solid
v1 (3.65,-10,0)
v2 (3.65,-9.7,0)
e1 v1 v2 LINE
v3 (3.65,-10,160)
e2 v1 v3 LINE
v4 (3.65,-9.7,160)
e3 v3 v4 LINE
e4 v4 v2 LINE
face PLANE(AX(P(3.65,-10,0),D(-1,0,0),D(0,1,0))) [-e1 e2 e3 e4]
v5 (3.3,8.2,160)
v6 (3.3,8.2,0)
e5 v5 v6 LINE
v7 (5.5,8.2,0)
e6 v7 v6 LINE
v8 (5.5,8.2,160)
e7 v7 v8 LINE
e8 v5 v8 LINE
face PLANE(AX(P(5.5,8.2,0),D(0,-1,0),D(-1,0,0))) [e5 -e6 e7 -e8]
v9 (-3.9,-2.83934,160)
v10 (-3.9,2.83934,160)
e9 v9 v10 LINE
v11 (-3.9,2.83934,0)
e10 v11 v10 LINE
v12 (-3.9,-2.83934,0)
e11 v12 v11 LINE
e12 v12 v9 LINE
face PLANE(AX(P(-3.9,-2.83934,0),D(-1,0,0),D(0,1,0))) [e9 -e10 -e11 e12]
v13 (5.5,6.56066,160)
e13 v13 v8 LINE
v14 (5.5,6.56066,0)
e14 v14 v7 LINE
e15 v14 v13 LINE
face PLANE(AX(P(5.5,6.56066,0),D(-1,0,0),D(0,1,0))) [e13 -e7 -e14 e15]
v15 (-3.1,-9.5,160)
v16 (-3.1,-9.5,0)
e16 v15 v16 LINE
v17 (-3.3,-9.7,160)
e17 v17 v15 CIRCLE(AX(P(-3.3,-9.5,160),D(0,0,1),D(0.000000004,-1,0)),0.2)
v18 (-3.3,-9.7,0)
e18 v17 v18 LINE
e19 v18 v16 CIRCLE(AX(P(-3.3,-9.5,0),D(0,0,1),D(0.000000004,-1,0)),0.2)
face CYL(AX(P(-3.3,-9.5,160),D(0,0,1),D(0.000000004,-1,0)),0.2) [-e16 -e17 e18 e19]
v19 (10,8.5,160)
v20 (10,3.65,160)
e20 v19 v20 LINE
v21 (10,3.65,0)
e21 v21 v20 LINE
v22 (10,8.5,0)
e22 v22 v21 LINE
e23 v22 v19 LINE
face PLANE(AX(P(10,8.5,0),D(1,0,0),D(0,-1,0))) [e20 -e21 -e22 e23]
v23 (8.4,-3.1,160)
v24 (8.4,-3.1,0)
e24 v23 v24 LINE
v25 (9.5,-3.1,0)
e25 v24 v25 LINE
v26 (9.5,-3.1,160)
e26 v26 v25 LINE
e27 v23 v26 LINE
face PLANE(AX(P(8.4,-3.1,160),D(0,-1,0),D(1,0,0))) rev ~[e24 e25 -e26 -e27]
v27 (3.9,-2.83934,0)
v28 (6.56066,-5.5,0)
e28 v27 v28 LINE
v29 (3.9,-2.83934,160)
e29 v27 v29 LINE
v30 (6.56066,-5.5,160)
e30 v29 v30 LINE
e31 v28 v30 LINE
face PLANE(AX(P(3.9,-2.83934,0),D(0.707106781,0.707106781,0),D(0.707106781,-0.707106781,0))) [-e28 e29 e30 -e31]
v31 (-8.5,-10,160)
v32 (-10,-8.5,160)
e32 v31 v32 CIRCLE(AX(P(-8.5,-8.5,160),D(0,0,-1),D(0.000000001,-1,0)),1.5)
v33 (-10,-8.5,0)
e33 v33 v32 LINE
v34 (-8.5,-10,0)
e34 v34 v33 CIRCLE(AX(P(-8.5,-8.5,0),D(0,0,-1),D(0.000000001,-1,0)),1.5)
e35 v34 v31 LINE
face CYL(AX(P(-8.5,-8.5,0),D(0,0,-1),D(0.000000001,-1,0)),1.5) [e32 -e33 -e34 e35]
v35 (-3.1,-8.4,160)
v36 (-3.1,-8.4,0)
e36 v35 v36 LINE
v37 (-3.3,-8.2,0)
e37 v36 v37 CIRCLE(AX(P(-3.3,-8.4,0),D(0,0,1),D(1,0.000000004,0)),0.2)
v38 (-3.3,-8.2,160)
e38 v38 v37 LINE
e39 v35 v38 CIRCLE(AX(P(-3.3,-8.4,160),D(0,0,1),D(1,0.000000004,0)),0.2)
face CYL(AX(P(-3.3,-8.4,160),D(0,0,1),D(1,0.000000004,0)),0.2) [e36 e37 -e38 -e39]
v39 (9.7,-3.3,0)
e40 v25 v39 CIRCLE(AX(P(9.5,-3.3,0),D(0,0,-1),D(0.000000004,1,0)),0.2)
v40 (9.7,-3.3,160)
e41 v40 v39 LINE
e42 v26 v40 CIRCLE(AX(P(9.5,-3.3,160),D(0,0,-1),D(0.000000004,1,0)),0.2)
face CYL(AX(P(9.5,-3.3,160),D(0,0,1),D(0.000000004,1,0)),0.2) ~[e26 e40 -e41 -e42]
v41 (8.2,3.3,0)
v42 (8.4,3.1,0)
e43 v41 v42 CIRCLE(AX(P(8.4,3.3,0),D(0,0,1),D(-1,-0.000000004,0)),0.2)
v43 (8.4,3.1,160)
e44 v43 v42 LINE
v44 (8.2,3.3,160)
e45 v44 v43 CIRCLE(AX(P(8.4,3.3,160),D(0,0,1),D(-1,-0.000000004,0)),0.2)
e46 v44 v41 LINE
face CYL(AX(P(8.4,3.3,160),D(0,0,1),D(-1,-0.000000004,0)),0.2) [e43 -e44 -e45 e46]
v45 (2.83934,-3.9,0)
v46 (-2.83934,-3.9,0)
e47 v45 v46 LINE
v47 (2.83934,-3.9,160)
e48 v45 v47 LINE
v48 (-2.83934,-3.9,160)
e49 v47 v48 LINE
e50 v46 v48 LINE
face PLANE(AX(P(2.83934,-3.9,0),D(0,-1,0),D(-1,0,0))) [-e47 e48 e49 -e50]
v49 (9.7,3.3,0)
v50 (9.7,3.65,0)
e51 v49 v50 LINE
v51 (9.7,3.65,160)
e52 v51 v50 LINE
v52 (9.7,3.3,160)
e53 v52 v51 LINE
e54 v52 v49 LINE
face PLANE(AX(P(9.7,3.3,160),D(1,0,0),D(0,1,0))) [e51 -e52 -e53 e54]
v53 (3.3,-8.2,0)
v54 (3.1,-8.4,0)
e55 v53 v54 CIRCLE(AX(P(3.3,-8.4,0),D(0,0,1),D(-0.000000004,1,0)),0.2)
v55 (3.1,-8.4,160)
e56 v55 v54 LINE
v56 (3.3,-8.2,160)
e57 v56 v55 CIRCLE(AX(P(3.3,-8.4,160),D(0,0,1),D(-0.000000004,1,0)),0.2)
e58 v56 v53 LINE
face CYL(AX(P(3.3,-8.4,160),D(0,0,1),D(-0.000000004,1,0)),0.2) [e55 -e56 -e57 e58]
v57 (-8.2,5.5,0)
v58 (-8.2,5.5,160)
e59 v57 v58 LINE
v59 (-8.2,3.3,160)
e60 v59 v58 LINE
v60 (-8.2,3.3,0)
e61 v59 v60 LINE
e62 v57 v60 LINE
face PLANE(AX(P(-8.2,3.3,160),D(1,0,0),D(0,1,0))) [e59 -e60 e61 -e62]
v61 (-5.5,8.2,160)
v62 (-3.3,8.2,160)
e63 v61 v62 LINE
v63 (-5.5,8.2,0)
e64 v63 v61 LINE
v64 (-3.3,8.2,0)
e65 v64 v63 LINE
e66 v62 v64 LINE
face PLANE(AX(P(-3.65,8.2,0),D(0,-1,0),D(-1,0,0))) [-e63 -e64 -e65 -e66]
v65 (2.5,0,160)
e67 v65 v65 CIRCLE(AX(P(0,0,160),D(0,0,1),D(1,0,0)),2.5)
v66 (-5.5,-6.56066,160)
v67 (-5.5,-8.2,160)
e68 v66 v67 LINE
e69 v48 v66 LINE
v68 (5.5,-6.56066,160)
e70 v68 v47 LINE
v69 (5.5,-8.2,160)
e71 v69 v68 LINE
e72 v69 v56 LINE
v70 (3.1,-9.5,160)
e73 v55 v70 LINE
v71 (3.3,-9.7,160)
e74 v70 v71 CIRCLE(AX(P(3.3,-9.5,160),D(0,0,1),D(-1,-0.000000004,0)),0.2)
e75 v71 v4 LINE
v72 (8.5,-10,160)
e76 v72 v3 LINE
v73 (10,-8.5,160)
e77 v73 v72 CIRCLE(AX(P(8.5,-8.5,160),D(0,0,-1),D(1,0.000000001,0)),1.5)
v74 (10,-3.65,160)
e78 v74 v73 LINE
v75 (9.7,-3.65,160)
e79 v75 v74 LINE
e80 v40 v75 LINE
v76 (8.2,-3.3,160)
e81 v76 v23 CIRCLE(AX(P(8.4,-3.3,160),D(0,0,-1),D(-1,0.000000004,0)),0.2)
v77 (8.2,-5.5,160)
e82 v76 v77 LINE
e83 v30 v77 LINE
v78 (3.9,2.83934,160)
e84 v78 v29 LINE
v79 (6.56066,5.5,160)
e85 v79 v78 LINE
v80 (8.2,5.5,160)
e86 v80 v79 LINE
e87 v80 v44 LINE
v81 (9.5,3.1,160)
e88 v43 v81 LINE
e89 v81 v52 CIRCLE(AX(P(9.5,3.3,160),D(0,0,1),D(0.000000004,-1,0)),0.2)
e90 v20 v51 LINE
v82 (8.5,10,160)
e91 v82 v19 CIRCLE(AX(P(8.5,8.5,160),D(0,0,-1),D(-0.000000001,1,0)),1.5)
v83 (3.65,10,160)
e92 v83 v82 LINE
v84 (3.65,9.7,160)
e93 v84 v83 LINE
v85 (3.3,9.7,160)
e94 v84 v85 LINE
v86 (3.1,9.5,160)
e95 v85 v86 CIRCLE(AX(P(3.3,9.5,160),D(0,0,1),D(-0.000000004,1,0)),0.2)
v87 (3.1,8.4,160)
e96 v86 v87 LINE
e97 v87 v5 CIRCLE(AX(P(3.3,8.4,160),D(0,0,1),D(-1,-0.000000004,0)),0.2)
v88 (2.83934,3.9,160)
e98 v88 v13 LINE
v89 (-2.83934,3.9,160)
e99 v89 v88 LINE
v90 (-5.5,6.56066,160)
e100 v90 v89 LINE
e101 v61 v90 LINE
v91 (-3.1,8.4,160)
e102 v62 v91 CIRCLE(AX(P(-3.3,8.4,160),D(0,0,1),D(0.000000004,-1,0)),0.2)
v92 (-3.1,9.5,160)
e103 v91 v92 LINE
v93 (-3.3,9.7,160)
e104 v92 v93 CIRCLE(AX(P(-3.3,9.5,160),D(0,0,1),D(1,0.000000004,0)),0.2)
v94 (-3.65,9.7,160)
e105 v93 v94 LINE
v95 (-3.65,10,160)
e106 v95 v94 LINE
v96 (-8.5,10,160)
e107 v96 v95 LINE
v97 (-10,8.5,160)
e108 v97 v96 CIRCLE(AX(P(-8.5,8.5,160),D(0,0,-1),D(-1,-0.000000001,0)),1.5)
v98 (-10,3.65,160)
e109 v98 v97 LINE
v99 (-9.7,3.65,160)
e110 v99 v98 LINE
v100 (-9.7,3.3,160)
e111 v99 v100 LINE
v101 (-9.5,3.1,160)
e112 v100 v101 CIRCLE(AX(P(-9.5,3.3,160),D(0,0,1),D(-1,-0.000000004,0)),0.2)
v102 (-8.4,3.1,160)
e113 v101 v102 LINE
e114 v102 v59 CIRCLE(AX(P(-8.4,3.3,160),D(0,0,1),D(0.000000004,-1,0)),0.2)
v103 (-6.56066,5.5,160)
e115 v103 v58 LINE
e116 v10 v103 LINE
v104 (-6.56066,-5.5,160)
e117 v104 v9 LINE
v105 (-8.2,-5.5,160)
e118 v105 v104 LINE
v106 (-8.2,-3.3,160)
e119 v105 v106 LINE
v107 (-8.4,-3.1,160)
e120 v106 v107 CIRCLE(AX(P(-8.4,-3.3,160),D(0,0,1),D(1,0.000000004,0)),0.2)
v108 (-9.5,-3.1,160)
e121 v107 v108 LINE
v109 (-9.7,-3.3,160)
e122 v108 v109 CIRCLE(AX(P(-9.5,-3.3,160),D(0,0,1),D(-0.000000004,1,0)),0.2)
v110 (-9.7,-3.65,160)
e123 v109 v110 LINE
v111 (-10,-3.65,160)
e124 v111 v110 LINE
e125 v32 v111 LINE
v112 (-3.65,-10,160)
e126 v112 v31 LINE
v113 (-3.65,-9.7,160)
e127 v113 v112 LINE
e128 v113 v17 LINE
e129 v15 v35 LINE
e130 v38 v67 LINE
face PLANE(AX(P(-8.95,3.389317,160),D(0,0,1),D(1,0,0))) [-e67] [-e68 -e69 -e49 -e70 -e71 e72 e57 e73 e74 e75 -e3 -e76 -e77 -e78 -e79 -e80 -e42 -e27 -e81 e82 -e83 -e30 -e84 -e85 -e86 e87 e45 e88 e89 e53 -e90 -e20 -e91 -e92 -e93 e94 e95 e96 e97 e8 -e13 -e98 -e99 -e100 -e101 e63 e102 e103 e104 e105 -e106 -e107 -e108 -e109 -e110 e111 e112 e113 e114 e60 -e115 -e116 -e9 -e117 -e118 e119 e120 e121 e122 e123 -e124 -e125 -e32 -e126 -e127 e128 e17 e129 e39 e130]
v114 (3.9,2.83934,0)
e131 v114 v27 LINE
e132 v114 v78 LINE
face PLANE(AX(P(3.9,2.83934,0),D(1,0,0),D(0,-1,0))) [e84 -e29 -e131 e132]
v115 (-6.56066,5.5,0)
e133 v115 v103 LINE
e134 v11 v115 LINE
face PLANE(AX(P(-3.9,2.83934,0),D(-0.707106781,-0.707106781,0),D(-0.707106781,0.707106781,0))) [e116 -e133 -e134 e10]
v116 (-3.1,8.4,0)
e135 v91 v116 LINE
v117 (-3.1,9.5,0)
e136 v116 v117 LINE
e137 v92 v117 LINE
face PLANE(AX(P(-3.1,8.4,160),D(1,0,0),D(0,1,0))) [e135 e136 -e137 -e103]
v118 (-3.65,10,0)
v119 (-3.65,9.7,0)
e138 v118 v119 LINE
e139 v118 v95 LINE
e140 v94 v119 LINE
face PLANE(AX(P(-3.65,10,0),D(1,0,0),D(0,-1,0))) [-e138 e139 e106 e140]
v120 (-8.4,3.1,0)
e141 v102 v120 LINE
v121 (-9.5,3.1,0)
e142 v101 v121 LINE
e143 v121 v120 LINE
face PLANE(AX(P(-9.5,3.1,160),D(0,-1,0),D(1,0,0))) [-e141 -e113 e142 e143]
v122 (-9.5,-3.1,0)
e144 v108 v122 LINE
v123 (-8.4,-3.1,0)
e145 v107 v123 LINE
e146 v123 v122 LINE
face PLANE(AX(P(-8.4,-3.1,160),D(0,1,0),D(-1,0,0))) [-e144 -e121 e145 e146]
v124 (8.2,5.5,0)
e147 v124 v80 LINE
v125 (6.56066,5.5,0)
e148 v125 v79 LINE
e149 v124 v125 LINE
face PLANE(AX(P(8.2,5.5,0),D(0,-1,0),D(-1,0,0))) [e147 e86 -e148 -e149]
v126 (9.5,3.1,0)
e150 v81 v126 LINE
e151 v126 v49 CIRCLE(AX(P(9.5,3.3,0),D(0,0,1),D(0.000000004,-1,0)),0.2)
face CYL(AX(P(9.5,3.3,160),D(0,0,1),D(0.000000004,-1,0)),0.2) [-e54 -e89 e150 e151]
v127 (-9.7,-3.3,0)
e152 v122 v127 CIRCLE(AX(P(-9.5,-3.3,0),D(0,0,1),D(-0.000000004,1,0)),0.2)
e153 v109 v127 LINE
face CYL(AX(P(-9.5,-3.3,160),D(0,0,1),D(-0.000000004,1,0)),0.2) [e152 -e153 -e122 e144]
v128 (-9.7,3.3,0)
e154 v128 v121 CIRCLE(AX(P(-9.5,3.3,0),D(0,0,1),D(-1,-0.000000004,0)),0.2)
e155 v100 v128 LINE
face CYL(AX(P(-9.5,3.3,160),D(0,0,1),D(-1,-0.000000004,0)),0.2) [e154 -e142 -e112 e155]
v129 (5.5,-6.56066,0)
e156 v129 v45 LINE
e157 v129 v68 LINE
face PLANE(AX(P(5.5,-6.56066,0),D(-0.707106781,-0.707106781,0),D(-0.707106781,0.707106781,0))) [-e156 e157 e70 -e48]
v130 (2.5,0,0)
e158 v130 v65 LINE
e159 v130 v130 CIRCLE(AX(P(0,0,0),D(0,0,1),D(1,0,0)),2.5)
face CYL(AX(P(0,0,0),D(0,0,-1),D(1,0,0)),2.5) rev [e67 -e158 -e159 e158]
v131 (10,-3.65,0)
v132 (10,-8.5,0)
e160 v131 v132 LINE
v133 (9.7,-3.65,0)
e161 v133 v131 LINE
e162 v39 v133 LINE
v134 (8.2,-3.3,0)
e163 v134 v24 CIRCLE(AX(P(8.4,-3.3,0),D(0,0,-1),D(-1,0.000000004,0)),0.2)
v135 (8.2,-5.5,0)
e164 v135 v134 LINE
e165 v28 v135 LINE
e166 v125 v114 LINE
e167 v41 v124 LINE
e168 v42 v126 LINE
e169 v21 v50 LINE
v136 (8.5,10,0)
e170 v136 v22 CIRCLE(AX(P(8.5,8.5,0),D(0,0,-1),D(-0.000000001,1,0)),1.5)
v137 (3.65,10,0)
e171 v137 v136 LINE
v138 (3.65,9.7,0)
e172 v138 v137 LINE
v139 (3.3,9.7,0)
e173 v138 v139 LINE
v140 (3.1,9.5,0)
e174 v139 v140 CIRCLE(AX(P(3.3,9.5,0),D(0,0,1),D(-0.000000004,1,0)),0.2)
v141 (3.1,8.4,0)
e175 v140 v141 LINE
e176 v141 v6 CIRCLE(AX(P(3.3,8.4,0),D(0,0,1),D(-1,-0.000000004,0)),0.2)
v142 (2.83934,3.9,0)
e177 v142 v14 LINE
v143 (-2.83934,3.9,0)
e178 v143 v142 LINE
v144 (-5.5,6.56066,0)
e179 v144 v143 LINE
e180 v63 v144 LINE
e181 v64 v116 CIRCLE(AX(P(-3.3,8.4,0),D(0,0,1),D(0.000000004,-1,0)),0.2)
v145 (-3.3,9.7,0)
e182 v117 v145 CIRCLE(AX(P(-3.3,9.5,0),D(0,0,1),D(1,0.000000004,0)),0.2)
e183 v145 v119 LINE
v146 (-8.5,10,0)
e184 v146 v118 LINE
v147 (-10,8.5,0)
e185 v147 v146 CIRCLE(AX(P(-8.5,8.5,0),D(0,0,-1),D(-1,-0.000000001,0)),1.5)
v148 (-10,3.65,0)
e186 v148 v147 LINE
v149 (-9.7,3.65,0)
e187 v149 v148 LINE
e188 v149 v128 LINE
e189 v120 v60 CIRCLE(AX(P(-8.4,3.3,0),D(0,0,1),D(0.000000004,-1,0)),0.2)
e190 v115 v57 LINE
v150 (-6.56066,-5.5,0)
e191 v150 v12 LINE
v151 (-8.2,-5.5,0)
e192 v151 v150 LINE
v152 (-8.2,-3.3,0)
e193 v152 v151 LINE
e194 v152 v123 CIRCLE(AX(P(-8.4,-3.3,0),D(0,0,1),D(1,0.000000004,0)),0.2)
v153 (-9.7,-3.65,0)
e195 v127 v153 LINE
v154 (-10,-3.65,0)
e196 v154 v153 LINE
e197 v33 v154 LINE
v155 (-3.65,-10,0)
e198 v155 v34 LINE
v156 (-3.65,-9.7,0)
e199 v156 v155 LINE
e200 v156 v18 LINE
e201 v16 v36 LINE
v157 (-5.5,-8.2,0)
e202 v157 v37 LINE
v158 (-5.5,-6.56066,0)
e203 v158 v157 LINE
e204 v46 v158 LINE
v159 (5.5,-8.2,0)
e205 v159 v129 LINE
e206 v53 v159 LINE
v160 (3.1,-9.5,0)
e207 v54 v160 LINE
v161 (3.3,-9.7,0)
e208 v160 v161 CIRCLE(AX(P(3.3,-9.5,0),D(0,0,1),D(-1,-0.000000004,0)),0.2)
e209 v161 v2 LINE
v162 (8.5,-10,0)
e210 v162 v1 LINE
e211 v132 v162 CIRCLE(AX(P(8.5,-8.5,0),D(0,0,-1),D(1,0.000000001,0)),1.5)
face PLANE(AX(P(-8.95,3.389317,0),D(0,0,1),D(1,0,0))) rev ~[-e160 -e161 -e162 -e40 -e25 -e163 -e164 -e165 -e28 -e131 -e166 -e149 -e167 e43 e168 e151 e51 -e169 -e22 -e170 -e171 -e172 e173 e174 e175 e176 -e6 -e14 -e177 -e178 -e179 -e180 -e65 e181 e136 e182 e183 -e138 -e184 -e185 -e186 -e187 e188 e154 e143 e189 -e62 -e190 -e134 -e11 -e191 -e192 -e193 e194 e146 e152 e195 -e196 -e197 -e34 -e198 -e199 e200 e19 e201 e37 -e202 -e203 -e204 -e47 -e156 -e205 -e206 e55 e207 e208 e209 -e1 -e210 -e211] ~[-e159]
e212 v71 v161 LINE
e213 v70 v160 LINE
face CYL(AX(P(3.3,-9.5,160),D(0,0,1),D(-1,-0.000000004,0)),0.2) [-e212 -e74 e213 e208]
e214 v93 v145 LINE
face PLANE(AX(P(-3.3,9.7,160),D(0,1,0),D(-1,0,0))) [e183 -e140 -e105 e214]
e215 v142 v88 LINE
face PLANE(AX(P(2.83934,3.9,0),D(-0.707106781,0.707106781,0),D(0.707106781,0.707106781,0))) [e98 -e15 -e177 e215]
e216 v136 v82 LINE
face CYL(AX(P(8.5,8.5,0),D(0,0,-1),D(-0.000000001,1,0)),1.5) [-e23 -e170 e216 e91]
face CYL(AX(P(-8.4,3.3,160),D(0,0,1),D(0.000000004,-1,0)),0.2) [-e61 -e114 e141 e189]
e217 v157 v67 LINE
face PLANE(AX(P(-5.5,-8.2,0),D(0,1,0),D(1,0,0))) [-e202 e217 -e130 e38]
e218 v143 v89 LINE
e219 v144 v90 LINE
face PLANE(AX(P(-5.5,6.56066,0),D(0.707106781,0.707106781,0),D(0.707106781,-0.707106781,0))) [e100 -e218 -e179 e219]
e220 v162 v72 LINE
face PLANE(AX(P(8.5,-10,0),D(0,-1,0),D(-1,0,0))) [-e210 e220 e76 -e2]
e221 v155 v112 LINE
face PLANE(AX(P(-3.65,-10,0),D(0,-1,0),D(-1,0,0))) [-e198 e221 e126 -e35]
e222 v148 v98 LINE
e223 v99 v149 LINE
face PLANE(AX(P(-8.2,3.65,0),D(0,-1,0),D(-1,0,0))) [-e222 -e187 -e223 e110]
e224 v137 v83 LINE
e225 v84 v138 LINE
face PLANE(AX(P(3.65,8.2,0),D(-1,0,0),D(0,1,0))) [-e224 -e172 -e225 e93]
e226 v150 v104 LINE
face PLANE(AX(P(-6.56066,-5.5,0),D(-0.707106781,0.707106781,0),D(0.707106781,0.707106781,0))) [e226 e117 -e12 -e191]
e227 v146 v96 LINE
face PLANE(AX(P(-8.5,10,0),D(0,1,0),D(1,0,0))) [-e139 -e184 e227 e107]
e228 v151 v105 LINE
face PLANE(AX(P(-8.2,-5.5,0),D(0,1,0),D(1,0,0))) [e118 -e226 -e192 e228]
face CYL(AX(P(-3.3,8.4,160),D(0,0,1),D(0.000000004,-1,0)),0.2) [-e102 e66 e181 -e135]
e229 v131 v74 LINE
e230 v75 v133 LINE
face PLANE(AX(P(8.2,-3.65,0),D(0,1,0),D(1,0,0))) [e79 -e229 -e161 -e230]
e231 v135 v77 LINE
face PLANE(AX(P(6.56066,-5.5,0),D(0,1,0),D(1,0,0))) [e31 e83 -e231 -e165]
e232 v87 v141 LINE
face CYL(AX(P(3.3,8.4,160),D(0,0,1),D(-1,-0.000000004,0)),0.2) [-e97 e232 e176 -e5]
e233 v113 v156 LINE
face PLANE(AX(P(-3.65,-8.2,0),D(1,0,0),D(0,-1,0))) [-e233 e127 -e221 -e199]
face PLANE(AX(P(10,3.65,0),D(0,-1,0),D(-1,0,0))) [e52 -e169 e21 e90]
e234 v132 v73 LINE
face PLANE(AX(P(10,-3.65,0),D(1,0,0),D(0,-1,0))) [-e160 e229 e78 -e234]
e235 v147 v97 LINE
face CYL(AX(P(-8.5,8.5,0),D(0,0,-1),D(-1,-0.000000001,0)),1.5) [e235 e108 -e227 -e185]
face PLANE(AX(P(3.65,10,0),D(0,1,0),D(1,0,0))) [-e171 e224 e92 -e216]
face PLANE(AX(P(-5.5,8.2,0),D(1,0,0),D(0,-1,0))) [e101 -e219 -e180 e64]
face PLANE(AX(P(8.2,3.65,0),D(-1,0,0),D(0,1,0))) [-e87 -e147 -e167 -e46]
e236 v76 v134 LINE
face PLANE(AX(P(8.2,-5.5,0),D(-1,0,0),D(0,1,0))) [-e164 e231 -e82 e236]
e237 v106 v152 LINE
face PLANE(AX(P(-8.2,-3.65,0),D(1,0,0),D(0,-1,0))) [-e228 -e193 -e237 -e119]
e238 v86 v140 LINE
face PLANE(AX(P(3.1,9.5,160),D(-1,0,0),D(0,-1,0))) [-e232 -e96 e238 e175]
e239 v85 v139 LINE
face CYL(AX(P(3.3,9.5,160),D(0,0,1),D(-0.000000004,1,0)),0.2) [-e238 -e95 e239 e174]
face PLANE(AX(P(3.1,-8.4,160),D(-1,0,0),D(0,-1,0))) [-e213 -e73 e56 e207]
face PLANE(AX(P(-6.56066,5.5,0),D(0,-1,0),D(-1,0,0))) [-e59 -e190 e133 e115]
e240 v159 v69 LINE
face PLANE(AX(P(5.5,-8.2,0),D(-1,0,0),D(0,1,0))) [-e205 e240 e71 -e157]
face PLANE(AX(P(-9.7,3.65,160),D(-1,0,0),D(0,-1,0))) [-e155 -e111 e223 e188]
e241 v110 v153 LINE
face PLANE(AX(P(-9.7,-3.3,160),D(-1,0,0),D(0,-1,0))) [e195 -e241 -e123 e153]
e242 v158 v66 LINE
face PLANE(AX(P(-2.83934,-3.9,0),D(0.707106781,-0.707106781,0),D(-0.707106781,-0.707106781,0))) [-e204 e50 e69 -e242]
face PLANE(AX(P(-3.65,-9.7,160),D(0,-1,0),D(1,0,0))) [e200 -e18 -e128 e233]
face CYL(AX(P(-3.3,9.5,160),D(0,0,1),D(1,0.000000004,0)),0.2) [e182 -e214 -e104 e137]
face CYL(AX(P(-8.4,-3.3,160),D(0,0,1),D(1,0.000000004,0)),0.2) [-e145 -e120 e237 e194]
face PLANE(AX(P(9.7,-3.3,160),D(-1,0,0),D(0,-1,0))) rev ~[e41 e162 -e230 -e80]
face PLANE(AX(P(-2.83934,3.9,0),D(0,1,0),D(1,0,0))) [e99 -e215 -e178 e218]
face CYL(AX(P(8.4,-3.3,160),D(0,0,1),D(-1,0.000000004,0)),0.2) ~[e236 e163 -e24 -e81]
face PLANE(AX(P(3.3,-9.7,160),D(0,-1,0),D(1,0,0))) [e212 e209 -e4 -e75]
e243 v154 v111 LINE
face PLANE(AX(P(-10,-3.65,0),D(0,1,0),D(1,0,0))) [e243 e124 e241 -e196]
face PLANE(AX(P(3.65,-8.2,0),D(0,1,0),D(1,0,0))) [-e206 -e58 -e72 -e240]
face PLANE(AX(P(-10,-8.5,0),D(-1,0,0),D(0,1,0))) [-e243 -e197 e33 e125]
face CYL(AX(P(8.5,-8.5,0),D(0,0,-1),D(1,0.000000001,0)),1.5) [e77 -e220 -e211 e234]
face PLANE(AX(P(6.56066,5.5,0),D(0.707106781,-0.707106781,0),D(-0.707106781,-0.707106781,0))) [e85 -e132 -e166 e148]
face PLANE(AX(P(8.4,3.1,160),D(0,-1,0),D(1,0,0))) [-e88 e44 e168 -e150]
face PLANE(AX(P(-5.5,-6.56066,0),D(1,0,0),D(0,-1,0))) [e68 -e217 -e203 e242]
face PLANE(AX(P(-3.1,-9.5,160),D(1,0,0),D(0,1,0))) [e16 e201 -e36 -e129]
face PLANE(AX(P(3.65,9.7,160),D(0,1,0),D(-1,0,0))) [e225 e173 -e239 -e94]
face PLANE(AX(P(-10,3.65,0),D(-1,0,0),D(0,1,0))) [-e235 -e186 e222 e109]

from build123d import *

# Parameters (mm, degrees)
SKETCH_1_R      = 2.5
EXTRUDE_2_DEPTH = 160
EXTRUDE_3_DEPTH = 160


with BuildPart() as part:
    # 草图1 → 凸台-拉伸2 (new body)
    with BuildSketch(Plane.XY):
        with BuildLine():
            Line((3.65, 10), (8.5, 10))
            ThreePointArc((8.5, 10), (9.560660172, 9.560660172), (10, 8.5))
            Line((10, 8.5), (10, 3.65))
            Line((10, 3.65), (8.2, 3.65))
            Line((8.2, 3.65), (8.2, 5.5))
            Line((8.2, 5.5), (6.560660172, 5.5))
            Line((6.560660172, 5.5), (3.9, 2.839339828))
            Line((3.9, 2.839339828), (3.9, -2.839339828))
            Line((3.9, -2.839339828), (6.560660172, -5.5))
            Line((6.560660172, -5.5), (8.2, -5.5))
            Line((8.2, -5.5), (8.2, -3.65))
            Line((8.2, -3.65), (10, -3.65))
            Line((10, -3.65), (10, -8.5))
            ThreePointArc((10, -8.5), (9.560660172, -9.560660172), (8.5, -10))
            Line((8.5, -10), (3.65, -10))
            Line((3.65, -10), (3.65, -8.2))
            Line((3.65, -8.2), (5.5, -8.2))
            Line((5.5, -8.2), (5.5, -6.560660172))
            Line((5.5, -6.560660172), (2.839339828, -3.9))
            Line((2.839339828, -3.9), (-2.839339828, -3.9))
            Line((-2.839339828, -3.9), (-5.5, -6.560660172))
            Line((-5.5, -6.560660172), (-5.5, -8.2))
            Line((-5.5, -8.2), (-3.65, -8.2))
            Line((-3.65, -8.2), (-3.65, -10))
            Line((-3.65, -10), (-8.5, -10))
            ThreePointArc((-8.5, -10), (-9.560660172, -9.560660172), (-10, -8.5))
            Line((-10, -8.5), (-10, -3.65))
            Line((-10, -3.65), (-8.2, -3.65))
            Line((-8.2, -3.65), (-8.2, -5.5))
            Line((-8.2, -5.5), (-6.560660172, -5.5))
            Line((-6.560660172, -5.5), (-3.9, -2.839339828))
            Line((-3.9, -2.839339828), (-3.9, 2.839339828))
            Line((-3.9, 2.839339828), (-6.560660172, 5.5))
            Line((-6.560660172, 5.5), (-8.2, 5.5))
            Line((-8.2, 5.5), (-8.2, 3.65))
            Line((-8.2, 3.65), (-10, 3.65))
            Line((-10, 3.65), (-10, 8.5))
            ThreePointArc((-10, 8.5), (-9.560660172, 9.560660172), (-8.5, 10))
            Line((-8.5, 10), (-3.65, 10))
            Line((-3.65, 10), (-3.65, 8.2))
            Line((-3.65, 8.2), (-5.5, 8.2))
            Line((-5.5, 8.2), (-5.5, 6.560660172))
            Line((-5.5, 6.560660172), (-2.839339828, 3.9))
            Line((-2.839339828, 3.9), (2.839339828, 3.9))
            Line((2.839339828, 3.9), (5.5, 6.560660172))
            Line((5.5, 6.560660172), (5.5, 8.2))
            Line((5.5, 8.2), (3.65, 8.2))
            Line((3.65, 8.2), (3.65, 10))
        make_face()
        Circle(SKETCH_1_R, mode=Mode.SUBTRACT)
    extrude(amount=EXTRUDE_2_DEPTH)

    # 草图3 → 凸台-拉伸3 (add)
    with BuildSketch(Plane.XY.offset(160)):
        with BuildLine():
            Line((-8.2, 3.65), (-9.7, 3.65))
            Line((-9.7, 3.65), (-9.7, 3.3))
            ThreePointArc((-9.7, 3.3), (-9.641421356, 3.158578644), (-9.5, 3.1))
            Line((-9.5, 3.1), (-8.4, 3.1))
            ThreePointArc((-8.4, 3.1), (-8.258578644, 3.158578644), (-8.2, 3.3))
            Line((-8.2, 3.3), (-8.2, 3.65))
        make_face()
        with BuildLine():
            Line((-3.65, 9.7), (-3.65, 8.2))
            Line((-3.65, 8.2), (-3.3, 8.2))
            ThreePointArc((-3.3, 8.2), (-3.158578644, 8.258578644), (-3.1, 8.4))
            Line((-3.1, 8.4), (-3.1, 9.5))
            ThreePointArc((-3.1, 9.5), (-3.158578644, 9.641421356), (-3.3, 9.7))
            Line((-3.3, 9.7), (-3.65, 9.7))
        make_face()
        with BuildLine():
            Line((3.65, 8.2), (3.65, 9.7))
            Line((3.65, 9.7), (3.3, 9.7))
            ThreePointArc((3.3, 9.7), (3.158578644, 9.641421356), (3.1, 9.5))
            Line((3.1, 9.5), (3.1, 8.4))
            ThreePointArc((3.1, 8.4), (3.158578644, 8.258578644), (3.3, 8.2))
            Line((3.3, 8.2), (3.65, 8.2))
        make_face()
        with BuildLine():
            Line((9.7, 3.65), (8.2, 3.65))
            Line((8.2, 3.65), (8.2, 3.3))
            ThreePointArc((8.2, 3.3), (8.258578644, 3.158578644), (8.4, 3.1))
            Line((8.4, 3.1), (9.5, 3.1))
            ThreePointArc((9.5, 3.1), (9.641421356, 3.158578644), (9.7, 3.3))
            Line((9.7, 3.3), (9.7, 3.65))
        make_face()
        with BuildLine():
            Line((3.65, -9.7), (3.65, -8.2))
            Line((3.65, -8.2), (3.3, -8.2))
            ThreePointArc((3.3, -8.2), (3.158578644, -8.258578644), (3.1, -8.4))
            Line((3.1, -8.4), (3.1, -9.5))
            ThreePointArc((3.1, -9.5), (3.158578644, -9.641421356), (3.3, -9.7))
            Line((3.3, -9.7), (3.65, -9.7))
        make_face()
        with BuildLine():
            Line((-3.65, -8.2), (-3.65, -9.7))
            Line((-3.65, -9.7), (-3.3, -9.7))
            ThreePointArc((-3.3, -9.7), (-3.158578644, -9.641421356), (-3.1, -9.5))
            Line((-3.1, -9.5), (-3.1, -8.4))
            ThreePointArc((-3.1, -8.4), (-3.158578644, -8.258578644), (-3.3, -8.2))
            Line((-3.3, -8.2), (-3.65, -8.2))
        make_face()
        with BuildLine():
            Line((8.2, -3.65), (8.2, -3.3))
            ThreePointArc((8.2, -3.3), (8.258578644, -3.158578644), (8.4, -3.1))
            Line((8.4, -3.1), (9.5, -3.1))
            ThreePointArc((9.5, -3.1), (9.641421356, -3.158578644), (9.7, -3.3))
            Line((9.7, -3.3), (9.7, -3.65))
            Line((9.7, -3.65), (8.2, -3.65))
        make_face()
        with BuildLine():
            Line((-8.2, -3.65), (-8.2, -3.3))
            ThreePointArc((-8.2, -3.3), (-8.258578644, -3.158578644), (-8.4, -3.1))
            Line((-8.4, -3.1), (-9.5, -3.1))
            ThreePointArc((-9.5, -3.1), (-9.641421356, -3.158578644), (-9.7, -3.3))
            Line((-9.7, -3.3), (-9.7, -3.65))
            Line((-9.7, -3.65), (-8.2, -3.65))
        make_face()
    extrude(amount=-EXTRUDE_3_DEPTH)


solid = part.part
